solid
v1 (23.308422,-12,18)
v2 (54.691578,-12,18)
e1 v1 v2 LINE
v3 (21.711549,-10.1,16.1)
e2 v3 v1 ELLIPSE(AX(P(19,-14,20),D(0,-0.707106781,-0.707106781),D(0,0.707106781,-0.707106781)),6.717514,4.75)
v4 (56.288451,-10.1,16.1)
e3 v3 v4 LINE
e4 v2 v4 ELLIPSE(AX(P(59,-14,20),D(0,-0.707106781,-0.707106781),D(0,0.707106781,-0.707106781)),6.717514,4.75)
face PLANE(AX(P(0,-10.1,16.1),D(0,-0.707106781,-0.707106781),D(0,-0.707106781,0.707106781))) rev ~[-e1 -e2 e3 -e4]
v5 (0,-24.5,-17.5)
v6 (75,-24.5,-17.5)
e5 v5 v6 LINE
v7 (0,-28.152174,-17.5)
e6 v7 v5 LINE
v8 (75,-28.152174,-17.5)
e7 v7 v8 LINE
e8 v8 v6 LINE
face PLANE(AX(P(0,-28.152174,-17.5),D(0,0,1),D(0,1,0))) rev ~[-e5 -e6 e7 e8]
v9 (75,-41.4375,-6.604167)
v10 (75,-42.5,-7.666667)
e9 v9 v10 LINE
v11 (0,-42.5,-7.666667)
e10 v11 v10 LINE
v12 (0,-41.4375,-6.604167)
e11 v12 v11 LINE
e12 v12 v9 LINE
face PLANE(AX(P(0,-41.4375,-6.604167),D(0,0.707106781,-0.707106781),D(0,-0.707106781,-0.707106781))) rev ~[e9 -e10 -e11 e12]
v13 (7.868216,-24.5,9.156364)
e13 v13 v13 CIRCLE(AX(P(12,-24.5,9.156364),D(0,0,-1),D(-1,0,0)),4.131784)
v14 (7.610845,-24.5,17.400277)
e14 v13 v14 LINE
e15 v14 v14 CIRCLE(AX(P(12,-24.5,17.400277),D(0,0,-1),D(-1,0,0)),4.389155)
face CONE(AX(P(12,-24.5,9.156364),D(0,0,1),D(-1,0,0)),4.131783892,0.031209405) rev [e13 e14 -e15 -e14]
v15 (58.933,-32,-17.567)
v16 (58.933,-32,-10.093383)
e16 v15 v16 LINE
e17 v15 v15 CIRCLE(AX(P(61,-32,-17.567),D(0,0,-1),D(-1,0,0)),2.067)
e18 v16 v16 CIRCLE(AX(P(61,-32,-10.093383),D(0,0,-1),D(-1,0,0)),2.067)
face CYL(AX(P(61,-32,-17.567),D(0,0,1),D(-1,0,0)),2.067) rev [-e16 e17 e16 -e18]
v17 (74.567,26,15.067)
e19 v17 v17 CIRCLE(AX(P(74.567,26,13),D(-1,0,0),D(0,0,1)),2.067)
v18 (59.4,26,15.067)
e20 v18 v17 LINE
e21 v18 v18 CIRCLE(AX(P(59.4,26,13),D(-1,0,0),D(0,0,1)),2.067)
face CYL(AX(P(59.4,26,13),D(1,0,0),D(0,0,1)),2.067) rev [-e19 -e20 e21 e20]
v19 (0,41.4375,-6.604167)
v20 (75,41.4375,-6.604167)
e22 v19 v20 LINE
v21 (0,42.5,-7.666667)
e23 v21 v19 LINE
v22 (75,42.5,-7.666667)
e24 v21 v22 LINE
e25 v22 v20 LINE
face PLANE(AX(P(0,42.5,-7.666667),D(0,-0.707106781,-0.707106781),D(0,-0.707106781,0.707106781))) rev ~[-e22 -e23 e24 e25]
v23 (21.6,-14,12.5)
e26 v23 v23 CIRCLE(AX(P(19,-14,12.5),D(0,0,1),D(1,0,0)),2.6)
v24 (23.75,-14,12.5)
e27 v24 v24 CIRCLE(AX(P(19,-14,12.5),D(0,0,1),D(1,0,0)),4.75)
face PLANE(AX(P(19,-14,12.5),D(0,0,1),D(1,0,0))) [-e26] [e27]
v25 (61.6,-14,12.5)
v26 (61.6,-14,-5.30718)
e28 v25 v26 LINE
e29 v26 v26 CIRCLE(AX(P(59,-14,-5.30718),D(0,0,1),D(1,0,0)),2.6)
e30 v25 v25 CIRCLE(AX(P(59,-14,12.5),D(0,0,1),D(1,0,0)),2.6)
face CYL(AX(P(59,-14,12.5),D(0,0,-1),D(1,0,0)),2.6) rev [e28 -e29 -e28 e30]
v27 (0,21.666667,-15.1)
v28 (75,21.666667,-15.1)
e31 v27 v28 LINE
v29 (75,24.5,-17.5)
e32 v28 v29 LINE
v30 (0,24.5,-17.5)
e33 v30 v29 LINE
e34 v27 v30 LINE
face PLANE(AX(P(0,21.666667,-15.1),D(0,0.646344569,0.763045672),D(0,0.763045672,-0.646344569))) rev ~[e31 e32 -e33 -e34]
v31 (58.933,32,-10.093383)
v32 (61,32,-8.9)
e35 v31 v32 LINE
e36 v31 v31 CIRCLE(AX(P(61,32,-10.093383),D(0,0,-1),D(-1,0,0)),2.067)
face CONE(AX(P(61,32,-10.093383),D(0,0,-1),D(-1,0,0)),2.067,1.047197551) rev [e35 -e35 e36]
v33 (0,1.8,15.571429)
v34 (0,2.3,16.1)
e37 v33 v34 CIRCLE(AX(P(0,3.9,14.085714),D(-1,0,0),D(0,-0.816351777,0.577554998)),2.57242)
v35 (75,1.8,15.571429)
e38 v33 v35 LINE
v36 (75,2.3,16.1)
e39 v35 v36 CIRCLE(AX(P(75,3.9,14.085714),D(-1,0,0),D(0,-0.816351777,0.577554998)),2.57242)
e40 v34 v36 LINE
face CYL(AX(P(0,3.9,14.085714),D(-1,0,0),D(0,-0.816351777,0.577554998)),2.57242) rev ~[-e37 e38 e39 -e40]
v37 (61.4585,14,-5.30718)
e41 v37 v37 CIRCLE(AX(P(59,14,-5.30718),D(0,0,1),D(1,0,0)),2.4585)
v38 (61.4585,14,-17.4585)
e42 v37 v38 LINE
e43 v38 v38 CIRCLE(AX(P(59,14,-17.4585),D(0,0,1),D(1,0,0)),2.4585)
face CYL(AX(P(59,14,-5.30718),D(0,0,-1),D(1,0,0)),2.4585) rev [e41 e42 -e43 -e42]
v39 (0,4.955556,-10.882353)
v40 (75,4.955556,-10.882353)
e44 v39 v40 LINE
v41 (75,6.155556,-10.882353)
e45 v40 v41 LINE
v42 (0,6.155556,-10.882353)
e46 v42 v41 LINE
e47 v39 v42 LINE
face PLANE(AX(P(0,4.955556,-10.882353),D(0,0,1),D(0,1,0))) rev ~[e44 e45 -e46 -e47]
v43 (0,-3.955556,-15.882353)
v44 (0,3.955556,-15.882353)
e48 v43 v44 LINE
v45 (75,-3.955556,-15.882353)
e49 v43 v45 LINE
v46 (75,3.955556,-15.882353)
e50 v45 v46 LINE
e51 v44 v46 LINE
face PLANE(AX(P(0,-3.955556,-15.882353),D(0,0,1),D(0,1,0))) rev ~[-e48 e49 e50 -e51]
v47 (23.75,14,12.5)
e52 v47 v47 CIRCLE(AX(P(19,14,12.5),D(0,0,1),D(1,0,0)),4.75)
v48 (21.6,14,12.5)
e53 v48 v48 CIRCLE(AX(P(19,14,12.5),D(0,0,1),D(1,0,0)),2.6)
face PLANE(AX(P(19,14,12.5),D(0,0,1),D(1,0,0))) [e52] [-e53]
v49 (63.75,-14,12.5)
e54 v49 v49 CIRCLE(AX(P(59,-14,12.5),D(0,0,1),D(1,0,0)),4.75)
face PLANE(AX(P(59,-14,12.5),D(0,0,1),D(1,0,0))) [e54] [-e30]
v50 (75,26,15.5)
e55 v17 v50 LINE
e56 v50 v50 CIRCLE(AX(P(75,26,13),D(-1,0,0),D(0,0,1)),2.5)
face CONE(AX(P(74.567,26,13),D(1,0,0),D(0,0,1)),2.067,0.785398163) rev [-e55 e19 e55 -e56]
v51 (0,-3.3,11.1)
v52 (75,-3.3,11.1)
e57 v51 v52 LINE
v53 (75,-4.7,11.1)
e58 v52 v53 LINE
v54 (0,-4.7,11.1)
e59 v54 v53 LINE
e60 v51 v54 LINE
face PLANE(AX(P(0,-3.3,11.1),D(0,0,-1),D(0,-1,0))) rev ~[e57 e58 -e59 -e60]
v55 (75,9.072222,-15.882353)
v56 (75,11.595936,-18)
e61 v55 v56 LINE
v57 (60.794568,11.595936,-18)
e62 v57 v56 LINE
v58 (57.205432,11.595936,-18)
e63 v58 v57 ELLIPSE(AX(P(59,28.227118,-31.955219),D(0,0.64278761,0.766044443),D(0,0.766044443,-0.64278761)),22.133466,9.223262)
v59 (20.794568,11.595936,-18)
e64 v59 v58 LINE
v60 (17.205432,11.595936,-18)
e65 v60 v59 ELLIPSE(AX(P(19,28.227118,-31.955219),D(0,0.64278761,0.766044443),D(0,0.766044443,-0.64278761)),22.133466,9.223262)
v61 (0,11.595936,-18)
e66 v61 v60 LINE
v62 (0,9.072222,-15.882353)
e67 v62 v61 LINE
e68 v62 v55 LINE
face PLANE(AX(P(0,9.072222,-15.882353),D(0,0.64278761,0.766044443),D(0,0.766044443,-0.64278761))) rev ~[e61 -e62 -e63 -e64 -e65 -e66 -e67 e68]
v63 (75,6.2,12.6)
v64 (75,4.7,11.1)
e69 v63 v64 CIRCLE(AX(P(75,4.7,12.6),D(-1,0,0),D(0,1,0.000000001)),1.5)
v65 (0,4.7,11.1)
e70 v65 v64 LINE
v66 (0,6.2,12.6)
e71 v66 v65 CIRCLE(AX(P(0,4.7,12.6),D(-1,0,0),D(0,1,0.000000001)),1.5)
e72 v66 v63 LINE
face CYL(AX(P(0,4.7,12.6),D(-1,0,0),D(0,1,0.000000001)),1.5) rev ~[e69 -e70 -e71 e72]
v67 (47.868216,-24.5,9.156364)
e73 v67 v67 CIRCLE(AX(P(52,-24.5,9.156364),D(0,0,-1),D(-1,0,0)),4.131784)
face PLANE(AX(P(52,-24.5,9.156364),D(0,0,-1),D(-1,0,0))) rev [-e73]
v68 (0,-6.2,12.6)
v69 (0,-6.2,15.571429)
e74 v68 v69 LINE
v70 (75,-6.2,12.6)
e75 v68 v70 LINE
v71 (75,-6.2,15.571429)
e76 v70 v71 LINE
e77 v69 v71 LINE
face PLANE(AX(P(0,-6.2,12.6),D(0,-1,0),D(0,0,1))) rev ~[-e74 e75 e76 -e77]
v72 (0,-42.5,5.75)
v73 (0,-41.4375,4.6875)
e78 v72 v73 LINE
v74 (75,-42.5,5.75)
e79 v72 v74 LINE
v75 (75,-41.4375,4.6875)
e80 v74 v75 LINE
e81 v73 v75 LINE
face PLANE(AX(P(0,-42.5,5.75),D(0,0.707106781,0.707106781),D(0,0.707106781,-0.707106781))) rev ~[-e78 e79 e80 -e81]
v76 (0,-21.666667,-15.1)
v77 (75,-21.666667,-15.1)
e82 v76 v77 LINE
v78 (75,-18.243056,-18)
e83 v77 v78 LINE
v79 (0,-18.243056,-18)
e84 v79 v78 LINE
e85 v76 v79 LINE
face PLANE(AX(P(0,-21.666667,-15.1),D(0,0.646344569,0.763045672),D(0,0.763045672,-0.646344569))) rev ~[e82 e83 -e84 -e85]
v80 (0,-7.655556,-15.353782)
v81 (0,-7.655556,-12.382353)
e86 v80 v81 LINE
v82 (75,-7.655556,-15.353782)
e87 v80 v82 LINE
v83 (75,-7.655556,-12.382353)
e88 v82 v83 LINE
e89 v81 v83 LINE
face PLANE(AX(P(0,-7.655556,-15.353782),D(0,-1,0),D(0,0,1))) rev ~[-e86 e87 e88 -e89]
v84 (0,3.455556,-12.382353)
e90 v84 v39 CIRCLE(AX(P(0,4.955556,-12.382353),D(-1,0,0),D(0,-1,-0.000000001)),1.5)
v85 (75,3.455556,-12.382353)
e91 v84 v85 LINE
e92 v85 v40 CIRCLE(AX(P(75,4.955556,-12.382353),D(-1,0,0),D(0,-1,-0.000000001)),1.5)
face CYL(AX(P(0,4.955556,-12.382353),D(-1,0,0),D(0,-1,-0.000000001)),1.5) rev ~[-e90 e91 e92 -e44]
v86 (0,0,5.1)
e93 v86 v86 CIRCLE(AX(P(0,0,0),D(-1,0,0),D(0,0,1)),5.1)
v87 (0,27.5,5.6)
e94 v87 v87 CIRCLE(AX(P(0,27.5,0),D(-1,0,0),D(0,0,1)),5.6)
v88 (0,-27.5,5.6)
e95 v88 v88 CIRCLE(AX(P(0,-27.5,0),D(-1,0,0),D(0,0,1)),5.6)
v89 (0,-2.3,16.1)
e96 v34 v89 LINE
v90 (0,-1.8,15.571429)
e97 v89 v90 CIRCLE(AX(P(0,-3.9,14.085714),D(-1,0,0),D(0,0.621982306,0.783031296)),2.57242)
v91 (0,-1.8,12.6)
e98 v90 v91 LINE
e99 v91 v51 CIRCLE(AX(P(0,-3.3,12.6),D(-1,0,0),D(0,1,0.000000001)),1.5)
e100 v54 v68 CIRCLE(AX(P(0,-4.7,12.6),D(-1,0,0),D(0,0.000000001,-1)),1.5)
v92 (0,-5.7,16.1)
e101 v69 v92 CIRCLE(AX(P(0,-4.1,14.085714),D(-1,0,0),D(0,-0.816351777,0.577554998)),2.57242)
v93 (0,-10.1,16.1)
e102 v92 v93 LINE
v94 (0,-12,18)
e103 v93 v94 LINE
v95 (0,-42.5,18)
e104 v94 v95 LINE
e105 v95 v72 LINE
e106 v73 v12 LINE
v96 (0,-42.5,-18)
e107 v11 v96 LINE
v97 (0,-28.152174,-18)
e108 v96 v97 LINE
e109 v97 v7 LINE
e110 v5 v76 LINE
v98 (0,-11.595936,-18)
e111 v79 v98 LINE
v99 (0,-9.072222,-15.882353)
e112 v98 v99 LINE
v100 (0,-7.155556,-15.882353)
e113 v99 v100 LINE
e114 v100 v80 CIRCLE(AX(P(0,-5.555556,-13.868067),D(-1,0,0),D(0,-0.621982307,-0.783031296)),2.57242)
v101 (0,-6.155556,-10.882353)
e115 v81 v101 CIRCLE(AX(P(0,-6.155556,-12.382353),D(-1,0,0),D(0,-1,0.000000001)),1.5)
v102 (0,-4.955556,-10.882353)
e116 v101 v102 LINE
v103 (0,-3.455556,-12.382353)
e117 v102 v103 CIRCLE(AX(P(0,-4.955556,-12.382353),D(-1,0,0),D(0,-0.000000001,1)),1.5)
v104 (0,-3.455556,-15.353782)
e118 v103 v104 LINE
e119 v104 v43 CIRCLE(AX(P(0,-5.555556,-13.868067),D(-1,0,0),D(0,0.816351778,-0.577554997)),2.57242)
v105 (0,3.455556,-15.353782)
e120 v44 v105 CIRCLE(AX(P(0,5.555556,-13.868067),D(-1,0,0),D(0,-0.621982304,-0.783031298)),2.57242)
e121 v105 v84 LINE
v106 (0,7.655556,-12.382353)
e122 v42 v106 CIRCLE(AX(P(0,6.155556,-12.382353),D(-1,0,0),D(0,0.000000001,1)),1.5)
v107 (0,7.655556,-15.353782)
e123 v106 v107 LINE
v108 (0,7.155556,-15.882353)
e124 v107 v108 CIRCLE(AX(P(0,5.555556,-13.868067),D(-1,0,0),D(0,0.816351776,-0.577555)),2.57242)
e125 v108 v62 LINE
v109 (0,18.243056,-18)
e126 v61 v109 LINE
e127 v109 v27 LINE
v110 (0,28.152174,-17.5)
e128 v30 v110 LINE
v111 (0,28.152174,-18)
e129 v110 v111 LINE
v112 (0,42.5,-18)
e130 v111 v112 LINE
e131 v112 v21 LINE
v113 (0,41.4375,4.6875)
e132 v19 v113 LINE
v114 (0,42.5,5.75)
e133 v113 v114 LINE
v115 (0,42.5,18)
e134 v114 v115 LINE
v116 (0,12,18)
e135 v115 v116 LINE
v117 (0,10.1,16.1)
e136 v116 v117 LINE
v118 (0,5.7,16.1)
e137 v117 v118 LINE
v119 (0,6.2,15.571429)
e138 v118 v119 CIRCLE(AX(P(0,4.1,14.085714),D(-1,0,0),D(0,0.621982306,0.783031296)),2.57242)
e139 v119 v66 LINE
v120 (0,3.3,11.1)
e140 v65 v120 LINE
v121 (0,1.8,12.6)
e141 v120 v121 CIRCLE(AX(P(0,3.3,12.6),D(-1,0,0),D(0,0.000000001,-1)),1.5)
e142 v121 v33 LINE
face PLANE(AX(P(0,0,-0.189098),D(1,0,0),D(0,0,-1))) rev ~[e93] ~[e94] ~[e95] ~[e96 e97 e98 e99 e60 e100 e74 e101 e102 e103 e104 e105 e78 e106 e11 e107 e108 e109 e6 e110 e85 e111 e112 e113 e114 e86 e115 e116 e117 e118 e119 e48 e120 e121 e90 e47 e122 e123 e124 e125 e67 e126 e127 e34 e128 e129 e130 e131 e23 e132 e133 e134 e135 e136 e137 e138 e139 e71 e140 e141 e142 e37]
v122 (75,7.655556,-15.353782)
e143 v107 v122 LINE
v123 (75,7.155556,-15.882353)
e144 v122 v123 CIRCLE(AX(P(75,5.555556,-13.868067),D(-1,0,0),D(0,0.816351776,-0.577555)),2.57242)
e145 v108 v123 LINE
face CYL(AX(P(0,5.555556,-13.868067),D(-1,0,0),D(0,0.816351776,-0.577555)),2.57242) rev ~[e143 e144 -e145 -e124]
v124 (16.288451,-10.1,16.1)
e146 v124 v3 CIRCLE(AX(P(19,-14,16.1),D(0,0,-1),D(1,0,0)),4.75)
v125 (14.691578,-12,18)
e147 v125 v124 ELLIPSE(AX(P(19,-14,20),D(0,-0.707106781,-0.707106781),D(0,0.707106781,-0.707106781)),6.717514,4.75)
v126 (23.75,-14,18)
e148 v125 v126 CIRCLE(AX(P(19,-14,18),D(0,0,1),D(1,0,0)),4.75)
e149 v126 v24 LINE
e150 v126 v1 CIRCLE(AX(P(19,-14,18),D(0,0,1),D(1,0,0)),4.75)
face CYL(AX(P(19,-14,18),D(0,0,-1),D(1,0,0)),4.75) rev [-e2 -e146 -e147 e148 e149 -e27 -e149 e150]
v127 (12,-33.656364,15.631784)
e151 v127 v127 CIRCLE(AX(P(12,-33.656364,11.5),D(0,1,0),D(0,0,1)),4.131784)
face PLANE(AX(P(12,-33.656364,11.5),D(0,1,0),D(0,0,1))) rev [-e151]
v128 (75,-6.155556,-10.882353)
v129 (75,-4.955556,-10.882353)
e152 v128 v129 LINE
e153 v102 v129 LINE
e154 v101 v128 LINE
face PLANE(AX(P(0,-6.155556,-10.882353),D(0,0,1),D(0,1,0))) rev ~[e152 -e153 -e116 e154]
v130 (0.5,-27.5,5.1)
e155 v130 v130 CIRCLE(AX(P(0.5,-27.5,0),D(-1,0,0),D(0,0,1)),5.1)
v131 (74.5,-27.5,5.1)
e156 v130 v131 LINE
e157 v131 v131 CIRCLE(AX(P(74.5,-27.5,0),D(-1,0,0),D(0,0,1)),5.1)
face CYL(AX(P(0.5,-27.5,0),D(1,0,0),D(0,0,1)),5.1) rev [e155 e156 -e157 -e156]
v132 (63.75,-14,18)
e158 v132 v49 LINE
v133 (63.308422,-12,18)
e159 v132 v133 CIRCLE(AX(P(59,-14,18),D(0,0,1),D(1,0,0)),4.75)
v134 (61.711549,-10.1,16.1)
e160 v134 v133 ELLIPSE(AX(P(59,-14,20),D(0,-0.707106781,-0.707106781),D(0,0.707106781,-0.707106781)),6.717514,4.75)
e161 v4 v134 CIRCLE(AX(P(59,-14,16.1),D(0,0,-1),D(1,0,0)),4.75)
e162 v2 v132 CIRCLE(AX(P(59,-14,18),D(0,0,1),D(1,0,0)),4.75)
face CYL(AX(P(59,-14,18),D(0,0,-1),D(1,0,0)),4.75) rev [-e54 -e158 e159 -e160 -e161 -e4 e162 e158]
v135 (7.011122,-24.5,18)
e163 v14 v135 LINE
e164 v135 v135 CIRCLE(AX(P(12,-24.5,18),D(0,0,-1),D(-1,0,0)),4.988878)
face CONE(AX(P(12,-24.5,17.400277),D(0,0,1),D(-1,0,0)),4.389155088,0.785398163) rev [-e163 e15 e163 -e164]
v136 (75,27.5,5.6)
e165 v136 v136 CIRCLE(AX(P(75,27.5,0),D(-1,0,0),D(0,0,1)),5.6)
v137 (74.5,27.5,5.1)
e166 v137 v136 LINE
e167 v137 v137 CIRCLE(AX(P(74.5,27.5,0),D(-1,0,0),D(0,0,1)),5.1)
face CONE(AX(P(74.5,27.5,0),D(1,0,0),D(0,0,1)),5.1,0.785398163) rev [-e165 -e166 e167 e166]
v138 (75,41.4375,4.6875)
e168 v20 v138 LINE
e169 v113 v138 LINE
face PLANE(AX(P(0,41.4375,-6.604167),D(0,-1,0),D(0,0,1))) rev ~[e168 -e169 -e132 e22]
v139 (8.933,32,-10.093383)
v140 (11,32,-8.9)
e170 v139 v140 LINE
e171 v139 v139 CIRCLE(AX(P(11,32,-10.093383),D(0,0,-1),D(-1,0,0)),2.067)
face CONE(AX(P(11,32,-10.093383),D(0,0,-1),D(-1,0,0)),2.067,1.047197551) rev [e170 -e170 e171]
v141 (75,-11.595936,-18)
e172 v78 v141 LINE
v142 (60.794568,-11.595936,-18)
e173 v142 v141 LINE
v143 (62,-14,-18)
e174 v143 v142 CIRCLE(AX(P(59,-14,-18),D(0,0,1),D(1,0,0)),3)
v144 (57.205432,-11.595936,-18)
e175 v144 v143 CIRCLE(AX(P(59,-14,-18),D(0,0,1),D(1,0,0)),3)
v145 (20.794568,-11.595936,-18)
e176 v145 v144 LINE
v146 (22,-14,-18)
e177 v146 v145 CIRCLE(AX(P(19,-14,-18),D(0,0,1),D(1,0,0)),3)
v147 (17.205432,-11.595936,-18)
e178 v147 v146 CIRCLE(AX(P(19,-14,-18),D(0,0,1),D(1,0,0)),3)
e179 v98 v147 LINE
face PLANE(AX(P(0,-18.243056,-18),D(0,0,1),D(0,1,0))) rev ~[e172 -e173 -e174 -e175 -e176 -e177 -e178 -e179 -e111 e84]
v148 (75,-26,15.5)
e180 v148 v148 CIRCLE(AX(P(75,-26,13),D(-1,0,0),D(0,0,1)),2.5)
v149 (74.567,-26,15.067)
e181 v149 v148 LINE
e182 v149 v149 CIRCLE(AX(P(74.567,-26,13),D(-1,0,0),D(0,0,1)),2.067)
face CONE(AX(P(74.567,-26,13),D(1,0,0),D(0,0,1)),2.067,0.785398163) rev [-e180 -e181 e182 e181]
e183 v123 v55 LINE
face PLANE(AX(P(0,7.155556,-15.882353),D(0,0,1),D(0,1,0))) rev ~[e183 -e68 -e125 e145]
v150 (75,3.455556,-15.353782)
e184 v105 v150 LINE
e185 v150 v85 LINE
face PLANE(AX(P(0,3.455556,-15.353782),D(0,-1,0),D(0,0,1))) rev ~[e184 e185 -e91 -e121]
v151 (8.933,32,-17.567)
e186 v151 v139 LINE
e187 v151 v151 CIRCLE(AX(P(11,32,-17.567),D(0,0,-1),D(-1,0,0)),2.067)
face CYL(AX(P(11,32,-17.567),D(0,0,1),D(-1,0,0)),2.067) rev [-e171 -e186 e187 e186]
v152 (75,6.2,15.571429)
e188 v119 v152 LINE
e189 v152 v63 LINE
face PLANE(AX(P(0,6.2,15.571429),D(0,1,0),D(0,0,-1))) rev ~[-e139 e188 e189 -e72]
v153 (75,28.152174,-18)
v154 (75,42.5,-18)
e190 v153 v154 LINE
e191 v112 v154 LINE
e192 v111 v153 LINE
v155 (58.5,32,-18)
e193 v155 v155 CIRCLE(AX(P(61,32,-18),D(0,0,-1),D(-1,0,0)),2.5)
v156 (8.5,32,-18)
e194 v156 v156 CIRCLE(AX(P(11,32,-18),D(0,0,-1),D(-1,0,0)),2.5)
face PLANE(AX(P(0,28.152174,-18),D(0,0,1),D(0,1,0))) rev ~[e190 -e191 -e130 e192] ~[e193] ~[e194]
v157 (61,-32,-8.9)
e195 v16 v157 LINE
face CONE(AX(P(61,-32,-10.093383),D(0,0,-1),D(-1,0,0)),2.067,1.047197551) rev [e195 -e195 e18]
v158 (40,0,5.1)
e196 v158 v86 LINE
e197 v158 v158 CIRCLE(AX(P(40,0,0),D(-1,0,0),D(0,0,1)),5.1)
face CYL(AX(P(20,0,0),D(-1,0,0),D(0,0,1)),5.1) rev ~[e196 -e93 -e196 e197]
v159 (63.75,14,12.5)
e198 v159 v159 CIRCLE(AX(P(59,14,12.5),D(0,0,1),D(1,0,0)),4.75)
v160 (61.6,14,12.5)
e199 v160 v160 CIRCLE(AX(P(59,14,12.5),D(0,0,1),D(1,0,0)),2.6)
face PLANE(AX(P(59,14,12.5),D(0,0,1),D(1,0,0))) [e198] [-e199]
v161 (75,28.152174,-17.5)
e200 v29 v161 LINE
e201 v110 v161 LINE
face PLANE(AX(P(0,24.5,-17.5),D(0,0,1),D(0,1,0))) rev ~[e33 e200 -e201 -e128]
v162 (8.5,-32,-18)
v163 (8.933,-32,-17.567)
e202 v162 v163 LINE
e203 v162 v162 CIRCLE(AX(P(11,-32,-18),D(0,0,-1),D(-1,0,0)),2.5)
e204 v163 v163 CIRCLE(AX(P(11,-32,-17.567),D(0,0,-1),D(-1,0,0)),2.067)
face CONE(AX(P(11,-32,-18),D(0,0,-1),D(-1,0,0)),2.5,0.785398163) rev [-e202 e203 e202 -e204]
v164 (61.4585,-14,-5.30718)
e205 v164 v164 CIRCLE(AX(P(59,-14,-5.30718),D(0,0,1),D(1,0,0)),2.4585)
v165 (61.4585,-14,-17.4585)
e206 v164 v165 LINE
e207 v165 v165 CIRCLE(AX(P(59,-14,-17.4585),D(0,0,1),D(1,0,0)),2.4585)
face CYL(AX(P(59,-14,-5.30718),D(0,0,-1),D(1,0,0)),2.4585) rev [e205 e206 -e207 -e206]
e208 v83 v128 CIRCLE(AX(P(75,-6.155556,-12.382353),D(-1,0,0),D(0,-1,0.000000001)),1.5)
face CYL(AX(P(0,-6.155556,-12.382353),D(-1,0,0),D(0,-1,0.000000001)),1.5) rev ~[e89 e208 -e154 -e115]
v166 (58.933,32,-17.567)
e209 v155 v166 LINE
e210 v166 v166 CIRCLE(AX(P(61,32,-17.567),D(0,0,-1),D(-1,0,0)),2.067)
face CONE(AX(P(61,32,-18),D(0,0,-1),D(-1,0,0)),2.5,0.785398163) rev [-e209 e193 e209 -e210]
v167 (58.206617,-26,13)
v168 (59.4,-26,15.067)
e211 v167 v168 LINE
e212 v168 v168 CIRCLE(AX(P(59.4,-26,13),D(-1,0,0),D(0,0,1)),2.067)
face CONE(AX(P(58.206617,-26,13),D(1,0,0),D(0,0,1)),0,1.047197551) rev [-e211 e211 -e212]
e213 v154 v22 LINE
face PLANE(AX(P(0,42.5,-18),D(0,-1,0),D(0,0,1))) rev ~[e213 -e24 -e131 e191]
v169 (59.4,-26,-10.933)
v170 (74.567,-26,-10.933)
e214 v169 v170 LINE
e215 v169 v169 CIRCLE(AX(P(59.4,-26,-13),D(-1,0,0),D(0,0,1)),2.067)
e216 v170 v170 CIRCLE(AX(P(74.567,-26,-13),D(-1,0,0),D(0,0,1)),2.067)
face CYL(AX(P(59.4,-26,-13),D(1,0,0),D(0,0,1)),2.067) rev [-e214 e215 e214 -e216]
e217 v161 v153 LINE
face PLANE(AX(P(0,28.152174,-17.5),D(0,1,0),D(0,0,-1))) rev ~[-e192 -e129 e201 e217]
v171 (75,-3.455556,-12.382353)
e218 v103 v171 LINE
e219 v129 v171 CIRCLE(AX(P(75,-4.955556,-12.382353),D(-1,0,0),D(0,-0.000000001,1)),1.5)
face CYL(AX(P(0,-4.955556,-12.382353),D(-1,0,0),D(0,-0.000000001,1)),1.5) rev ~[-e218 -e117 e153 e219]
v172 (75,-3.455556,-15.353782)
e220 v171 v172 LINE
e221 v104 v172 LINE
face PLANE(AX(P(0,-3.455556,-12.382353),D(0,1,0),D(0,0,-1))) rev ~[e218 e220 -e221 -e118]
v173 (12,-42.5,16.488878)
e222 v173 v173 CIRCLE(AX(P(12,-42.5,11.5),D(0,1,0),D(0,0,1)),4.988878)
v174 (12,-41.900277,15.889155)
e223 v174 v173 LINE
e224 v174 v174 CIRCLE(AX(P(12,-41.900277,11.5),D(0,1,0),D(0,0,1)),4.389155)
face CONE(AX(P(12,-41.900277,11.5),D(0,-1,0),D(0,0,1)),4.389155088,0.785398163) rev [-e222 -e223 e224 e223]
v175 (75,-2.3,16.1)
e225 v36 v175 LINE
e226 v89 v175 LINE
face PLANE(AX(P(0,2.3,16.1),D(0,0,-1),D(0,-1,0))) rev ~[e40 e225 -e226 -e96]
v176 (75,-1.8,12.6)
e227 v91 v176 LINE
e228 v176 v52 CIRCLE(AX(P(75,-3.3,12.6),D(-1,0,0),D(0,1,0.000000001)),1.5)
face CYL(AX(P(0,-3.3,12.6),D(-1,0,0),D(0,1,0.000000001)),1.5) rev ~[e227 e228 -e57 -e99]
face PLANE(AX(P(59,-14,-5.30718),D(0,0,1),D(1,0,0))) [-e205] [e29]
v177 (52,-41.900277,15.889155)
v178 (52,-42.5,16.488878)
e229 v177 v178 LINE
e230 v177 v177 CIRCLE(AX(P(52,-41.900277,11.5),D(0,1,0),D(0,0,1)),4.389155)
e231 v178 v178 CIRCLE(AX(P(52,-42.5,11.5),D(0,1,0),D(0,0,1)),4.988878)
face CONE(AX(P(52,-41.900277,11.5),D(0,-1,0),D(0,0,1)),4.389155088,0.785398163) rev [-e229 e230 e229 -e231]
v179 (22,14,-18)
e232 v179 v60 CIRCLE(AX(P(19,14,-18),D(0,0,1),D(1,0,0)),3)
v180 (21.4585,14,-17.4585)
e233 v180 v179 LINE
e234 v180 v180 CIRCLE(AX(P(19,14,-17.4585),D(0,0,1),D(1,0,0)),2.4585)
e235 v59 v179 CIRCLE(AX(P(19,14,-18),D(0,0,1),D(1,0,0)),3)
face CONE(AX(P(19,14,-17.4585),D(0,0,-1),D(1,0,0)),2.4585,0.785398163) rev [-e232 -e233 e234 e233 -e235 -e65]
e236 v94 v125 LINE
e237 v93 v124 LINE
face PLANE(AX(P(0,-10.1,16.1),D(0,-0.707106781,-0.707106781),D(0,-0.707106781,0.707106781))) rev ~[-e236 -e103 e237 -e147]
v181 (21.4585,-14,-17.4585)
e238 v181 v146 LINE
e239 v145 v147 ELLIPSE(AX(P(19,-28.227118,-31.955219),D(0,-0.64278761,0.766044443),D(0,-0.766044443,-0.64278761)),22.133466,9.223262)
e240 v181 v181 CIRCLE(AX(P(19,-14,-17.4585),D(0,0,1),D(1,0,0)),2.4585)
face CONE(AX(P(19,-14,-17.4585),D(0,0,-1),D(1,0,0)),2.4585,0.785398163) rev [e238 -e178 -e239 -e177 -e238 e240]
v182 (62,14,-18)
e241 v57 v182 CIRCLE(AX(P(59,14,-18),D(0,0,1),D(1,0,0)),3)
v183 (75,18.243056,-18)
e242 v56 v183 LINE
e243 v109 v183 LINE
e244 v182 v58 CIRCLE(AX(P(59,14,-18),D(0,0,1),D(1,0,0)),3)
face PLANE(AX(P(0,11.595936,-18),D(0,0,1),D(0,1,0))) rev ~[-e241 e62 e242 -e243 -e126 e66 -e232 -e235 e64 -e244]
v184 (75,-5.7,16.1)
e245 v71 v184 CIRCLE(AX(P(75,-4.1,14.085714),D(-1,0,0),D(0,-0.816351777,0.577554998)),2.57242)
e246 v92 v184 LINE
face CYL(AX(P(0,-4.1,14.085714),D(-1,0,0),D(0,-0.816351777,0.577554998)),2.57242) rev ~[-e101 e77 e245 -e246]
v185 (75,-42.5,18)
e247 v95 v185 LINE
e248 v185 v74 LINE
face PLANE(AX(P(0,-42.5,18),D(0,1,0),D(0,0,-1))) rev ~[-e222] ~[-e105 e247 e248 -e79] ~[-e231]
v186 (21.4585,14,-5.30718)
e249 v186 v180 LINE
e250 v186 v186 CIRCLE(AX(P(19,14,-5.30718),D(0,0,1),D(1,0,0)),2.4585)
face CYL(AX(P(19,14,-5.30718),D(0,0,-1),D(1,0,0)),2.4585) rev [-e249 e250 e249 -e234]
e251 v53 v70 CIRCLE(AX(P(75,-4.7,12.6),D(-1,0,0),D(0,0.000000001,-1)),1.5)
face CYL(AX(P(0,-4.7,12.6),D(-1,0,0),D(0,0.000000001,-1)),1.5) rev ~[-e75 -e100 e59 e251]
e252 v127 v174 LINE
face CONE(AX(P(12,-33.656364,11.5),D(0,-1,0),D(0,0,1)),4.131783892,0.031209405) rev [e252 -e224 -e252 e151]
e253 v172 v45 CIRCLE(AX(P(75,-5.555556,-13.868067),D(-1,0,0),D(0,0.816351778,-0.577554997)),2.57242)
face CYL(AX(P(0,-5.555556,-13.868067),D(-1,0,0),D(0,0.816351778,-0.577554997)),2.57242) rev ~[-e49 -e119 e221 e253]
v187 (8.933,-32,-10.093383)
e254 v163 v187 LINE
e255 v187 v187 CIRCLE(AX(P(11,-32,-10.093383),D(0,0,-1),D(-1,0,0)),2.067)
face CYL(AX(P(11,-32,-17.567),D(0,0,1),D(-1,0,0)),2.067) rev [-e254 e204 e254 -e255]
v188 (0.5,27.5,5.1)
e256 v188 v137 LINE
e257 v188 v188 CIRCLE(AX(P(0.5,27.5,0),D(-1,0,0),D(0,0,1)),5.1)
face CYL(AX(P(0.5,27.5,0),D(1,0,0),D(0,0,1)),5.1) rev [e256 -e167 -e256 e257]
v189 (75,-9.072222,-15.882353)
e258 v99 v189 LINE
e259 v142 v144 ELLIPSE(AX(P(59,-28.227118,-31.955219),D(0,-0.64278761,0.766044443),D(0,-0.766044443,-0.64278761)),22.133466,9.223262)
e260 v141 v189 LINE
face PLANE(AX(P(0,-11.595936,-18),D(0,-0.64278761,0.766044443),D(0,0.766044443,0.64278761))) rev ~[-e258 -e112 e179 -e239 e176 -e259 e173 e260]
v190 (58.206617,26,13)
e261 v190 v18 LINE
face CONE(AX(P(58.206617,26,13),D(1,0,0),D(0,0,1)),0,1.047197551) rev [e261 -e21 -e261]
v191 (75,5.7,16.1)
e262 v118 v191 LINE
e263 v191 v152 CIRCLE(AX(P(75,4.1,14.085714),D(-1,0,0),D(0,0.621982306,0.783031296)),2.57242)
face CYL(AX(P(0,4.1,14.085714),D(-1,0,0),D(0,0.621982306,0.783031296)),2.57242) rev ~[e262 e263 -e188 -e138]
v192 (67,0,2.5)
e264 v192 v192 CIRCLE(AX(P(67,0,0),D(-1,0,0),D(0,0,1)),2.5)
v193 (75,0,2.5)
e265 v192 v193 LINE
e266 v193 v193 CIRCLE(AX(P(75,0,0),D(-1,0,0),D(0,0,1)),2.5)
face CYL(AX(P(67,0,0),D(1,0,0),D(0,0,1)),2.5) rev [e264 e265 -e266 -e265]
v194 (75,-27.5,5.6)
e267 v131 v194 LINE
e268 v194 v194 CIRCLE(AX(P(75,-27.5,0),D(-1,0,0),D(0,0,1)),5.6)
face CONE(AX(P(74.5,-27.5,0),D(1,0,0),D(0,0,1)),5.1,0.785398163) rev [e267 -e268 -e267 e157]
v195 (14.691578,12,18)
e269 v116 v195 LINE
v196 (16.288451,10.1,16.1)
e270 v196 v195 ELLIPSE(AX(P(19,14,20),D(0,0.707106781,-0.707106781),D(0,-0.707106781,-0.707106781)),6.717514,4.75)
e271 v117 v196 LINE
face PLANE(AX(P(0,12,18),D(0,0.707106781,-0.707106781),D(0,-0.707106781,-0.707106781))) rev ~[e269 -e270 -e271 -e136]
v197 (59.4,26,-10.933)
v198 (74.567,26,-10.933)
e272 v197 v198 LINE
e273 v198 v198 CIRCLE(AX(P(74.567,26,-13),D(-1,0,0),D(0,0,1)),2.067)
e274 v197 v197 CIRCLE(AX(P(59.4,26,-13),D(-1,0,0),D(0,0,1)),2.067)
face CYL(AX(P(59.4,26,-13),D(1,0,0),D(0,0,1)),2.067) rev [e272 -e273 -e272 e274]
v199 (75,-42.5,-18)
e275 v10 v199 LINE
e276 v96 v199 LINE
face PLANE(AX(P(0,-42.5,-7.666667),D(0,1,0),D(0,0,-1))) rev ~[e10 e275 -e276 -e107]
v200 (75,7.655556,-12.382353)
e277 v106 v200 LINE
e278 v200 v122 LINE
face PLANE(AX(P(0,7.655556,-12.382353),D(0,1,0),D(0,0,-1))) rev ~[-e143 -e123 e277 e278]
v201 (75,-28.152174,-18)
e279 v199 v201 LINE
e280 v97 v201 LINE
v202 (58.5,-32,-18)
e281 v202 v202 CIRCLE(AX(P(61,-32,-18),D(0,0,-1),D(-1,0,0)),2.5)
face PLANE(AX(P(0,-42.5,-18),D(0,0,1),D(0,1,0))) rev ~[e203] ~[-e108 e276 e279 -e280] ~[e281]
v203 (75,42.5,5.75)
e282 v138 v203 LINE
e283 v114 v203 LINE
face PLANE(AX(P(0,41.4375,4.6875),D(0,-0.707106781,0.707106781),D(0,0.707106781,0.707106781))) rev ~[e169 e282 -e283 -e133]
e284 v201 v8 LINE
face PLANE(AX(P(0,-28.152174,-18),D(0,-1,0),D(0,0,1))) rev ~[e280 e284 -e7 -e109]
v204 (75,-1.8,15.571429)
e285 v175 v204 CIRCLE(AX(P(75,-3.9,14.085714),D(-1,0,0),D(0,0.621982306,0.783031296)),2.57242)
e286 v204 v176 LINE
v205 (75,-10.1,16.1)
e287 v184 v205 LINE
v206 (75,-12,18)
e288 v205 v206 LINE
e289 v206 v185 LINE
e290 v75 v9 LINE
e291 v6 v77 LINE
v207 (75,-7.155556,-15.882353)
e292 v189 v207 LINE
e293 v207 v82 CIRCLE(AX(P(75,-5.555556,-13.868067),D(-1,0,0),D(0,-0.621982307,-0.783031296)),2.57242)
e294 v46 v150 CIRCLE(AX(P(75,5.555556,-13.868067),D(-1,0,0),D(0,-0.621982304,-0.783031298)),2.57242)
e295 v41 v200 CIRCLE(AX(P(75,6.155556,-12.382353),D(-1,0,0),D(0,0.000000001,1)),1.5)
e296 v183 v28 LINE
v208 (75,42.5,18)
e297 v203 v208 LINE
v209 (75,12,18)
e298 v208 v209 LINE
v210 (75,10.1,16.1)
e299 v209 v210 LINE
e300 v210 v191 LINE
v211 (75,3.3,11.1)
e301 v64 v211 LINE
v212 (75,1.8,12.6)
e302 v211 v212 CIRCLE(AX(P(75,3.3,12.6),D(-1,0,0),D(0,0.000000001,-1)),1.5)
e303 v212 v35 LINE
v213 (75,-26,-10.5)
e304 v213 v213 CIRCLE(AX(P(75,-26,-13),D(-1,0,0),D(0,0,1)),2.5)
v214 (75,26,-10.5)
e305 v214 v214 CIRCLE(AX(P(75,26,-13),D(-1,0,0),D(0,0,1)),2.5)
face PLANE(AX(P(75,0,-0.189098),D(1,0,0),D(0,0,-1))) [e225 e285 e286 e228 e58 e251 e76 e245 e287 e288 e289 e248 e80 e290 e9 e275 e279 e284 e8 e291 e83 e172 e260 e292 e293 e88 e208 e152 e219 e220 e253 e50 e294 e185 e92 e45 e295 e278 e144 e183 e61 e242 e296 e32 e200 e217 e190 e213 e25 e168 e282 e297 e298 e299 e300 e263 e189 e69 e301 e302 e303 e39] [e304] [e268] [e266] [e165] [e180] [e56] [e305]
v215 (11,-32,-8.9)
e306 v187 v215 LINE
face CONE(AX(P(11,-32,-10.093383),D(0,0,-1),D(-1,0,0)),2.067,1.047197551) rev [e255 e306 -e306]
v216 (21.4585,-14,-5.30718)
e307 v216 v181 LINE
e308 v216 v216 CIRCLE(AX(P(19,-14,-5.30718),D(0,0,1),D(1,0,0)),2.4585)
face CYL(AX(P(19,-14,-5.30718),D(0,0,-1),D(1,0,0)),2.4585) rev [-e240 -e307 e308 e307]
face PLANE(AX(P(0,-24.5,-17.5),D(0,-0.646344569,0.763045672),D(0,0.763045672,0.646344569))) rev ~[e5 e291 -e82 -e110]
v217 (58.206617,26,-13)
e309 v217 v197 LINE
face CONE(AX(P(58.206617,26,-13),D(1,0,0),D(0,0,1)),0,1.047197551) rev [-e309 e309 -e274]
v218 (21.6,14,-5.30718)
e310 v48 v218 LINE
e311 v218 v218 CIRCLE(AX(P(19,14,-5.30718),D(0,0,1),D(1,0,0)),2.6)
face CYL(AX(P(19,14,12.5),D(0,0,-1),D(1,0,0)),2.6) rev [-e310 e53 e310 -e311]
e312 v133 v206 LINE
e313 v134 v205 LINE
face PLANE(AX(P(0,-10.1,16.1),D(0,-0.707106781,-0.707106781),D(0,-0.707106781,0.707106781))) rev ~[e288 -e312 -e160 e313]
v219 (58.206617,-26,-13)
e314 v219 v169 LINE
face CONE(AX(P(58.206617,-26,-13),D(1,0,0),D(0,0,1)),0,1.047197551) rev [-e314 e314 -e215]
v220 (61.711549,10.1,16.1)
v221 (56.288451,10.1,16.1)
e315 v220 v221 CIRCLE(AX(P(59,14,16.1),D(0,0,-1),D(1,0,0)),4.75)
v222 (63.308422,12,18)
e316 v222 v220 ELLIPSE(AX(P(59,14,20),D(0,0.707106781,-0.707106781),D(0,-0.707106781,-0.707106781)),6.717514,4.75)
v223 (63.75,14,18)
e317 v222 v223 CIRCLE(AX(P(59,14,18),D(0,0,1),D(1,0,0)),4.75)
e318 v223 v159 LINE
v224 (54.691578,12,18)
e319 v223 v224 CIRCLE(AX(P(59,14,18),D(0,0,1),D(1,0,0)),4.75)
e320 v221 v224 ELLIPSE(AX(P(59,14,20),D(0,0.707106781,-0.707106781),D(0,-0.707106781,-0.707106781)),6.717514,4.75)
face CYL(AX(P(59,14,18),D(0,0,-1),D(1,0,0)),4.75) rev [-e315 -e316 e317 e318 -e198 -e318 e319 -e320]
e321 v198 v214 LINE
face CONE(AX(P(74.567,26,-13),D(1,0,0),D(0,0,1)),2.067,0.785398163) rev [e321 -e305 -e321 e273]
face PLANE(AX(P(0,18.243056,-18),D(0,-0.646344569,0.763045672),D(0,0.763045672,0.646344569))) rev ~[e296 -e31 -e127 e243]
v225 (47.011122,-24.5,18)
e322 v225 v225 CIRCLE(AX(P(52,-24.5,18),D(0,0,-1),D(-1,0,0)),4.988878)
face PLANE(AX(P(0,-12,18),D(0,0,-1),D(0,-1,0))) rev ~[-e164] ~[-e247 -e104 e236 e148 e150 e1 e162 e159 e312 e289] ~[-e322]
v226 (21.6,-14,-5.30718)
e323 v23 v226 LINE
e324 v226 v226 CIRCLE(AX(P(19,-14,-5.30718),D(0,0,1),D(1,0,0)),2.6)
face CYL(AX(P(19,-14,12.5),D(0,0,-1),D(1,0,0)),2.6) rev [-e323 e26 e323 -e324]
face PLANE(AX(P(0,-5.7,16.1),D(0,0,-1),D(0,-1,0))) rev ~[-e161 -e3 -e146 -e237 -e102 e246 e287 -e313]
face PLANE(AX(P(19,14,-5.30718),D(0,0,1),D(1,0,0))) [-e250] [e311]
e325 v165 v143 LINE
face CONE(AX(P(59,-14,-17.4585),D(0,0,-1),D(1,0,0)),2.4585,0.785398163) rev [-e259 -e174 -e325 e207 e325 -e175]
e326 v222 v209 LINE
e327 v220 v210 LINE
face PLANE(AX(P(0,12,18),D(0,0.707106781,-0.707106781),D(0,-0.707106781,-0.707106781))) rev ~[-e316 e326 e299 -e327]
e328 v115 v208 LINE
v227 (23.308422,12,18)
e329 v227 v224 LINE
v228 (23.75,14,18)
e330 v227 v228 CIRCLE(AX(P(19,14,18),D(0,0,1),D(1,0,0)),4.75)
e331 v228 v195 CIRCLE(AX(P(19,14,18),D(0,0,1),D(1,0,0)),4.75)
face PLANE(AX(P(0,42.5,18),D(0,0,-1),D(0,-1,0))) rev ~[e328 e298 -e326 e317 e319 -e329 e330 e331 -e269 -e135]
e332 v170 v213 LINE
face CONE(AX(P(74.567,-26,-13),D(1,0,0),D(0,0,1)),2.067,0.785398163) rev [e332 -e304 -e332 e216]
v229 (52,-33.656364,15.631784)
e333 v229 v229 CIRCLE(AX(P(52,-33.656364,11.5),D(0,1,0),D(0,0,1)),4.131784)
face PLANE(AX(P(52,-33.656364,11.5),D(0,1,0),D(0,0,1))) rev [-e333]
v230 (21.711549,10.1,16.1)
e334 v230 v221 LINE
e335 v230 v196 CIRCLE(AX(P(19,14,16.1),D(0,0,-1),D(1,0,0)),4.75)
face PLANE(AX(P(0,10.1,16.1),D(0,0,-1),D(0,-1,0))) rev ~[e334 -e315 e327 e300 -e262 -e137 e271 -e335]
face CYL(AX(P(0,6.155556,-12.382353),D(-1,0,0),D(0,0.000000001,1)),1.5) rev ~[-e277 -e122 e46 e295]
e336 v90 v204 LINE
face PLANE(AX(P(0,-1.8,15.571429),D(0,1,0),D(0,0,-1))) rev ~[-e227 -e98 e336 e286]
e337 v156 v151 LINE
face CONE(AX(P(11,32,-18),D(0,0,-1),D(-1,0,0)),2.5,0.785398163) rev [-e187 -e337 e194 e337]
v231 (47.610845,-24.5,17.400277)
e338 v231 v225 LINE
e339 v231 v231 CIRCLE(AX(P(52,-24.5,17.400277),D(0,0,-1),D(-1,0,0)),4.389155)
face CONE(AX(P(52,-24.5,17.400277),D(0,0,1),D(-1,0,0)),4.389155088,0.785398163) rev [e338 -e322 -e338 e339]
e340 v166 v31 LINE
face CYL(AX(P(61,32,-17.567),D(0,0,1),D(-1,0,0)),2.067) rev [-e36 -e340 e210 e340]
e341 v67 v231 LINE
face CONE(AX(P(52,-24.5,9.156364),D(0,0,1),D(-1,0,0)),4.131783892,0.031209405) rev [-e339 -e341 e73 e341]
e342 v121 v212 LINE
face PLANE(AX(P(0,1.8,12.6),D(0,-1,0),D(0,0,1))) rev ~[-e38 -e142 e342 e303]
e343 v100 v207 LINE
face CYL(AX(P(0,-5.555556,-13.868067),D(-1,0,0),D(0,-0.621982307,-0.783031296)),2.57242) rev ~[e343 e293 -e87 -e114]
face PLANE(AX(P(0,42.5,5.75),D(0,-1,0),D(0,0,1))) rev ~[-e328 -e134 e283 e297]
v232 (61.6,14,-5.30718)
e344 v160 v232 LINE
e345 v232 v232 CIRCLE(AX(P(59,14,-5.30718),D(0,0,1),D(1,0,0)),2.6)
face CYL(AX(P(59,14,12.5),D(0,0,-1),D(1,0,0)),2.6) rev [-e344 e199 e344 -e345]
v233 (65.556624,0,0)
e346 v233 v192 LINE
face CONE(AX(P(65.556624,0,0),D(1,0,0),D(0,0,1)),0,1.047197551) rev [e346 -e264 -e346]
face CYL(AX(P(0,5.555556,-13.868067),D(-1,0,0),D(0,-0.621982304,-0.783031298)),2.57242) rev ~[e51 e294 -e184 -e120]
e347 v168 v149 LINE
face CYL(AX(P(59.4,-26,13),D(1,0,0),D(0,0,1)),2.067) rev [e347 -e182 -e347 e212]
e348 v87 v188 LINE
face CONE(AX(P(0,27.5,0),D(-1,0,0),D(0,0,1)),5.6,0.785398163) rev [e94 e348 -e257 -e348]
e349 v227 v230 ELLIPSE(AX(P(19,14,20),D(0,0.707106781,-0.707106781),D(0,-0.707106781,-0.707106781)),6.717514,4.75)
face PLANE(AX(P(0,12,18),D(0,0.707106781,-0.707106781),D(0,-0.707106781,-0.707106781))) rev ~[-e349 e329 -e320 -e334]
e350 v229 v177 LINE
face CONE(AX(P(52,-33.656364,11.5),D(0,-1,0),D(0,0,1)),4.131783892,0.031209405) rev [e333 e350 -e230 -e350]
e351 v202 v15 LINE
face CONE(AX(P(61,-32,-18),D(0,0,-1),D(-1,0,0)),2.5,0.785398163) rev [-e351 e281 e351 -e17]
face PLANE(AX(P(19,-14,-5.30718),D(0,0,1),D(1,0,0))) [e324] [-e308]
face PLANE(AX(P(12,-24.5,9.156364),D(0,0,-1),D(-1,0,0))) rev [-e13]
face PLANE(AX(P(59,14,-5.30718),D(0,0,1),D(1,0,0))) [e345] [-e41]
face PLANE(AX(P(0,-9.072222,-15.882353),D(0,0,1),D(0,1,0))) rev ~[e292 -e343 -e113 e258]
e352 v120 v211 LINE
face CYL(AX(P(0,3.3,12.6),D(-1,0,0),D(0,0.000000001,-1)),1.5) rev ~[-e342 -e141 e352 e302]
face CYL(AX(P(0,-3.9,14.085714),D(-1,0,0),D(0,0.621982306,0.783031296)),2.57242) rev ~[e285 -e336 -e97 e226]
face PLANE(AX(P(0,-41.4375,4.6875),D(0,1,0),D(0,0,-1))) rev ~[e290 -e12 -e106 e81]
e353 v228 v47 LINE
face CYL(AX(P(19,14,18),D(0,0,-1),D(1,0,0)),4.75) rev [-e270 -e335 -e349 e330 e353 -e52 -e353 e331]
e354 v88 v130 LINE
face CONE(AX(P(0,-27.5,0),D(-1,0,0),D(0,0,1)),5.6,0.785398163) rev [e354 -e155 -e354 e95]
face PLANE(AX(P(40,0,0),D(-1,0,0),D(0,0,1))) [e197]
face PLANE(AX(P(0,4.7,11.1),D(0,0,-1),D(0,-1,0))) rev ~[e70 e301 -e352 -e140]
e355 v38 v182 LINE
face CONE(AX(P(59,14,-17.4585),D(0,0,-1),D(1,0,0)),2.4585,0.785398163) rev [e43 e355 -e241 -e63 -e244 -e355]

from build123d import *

# Parameters (mm, degrees)
BOSS_EXTRUDE1_DEPTH = 75
SKETCH10_W          = 40
SKETCH10_H          = 5.1


with BuildPart() as part:
    # Sketch1 → Boss-Extrude1 (new body)
    with BuildSketch(Plane(origin=(0, 0, 0), x_dir=(0, 0, -1), z_dir=(1, 0, 0))):
        with BuildLine():
            Line((-18, -42.5), (-5.75, -42.5))
            Line((-5.75, -42.5), (-4.6875, -41.4375))
            Line((-4.6875, -41.4375), (6.604166667, -41.4375))
            Line((6.604166667, -41.4375), (7.666666667, -42.5))
            Line((7.666666667, -42.5), (18, -42.5))
            Line((18, -42.5), (18, -28.152173913))
            Line((18, -28.152173913), (17.5, -28.152173913))
            Line((17.5, -28.152173913), (17.5, -24.5))
            Line((17.5, -24.5), (15.1, -21.666666667))
            Line((15.1, -21.666666667), (18, -18.243055556))
            Line((18, -18.243055556), (18, -11.595935712))
            Line((18, -11.595935712), (15.882352941, -9.072222222))
            Line((15.882352941, -9.072222222), (15.882352941, -7.155555556))
            ThreePointArc((15.882352941, -7.155555556), (15.63583418, -7.424337763), (15.353781513, -7.655555556))
            Line((15.353781513, -7.655555556), (12.382352941, -7.655555556))
            ThreePointArc((12.382352941, -7.655555556), (11.321692769, -7.216215727), (10.882352941, -6.155555556))
            Line((10.882352941, -6.155555556), (10.882352941, -4.955555556))
            ThreePointArc((10.882352941, -4.955555556), (11.321692769, -3.894895384), (12.382352941, -3.455555556))
            Line((12.382352941, -3.455555556), (15.353781513, -3.455555556))
            ThreePointArc((15.353781513, -3.455555556), (15.63583418, -3.686773348), (15.882352941, -3.955555556))
            Line((15.882352941, -3.955555556), (15.882352941, 3.955555556))
            ThreePointArc((15.882352941, 3.955555556), (15.63583418, 3.686773348), (15.353781513, 3.455555556))
            Line((15.353781513, 3.455555556), (12.382352941, 3.455555556))
            ThreePointArc((12.382352941, 3.455555556), (11.321692769, 3.894895384), (10.882352941, 4.955555556))
            Line((10.882352941, 4.955555556), (10.882352941, 6.155555556))
            ThreePointArc((10.882352941, 6.155555556), (11.321692769, 7.216215727), (12.382352941, 7.655555556))
            Line((12.382352941, 7.655555556), (15.353781513, 7.655555556))
            ThreePointArc((15.353781513, 7.655555556), (15.63583418, 7.424337763), (15.882352941, 7.155555556))
            Line((15.882352941, 7.155555556), (15.882352941, 9.072222222))
            Line((15.882352941, 9.072222222), (18, 11.595935712))
            Line((18, 11.595935712), (18, 18.243055556))
            Line((18, 18.243055556), (15.1, 21.666666667))
            Line((15.1, 21.666666667), (17.5, 24.5))
            Line((17.5, 24.5), (17.5, 28.152173913))
            Line((17.5, 28.152173913), (18, 28.152173913))
            Line((18, 28.152173913), (18, 42.5))
            Line((18, 42.5), (7.666666667, 42.5))
            Line((7.666666667, 42.5), (6.604166667, 41.4375))
            Line((6.604166667, 41.4375), (-4.6875, 41.4375))
            Line((-4.6875, 41.4375), (-5.75, 42.5))
            Line((-5.75, 42.5), (-18, 42.5))
            Line((-18, 42.5), (-18, 12))
            Line((-18, 12), (-16.1, 10.1))
            Line((-16.1, 10.1), (-16.1, 5.7))
            ThreePointArc((-16.1, 5.7), (-15.853481239, 5.968782207), (-15.571428571, 6.2))
            Line((-15.571428571, 6.2), (-12.6, 6.2))
            ThreePointArc((-12.6, 6.2), (-11.539339828, 5.760660172), (-11.1, 4.7))
            Line((-11.1, 4.7), (-11.1, 3.3))
            ThreePointArc((-11.1, 3.3), (-11.539339828, 2.239339828), (-12.6, 1.8))
            Line((-12.6, 1.8), (-15.571428571, 1.8))
            ThreePointArc((-15.571428571, 1.8), (-15.853481239, 2.031217793), (-16.1, 2.3))
            Line((-16.1, 2.3), (-16.1, -2.3))
            ThreePointArc((-16.1, -2.3), (-15.853481239, -2.031217793), (-15.571428571, -1.8))
            Line((-15.571428571, -1.8), (-12.6, -1.8))
            ThreePointArc((-12.6, -1.8), (-11.539339828, -2.239339828), (-11.1, -3.3))
            Line((-11.1, -3.3), (-11.1, -4.7))
            ThreePointArc((-11.1, -4.7), (-11.539339828, -5.760660172), (-12.6, -6.2))
            Line((-12.6, -6.2), (-15.571428571, -6.2))
            ThreePointArc((-15.571428571, -6.2), (-15.853481239, -5.968782207), (-16.1, -5.7))
            Line((-16.1, -5.7), (-16.1, -10.1))
            Line((-16.1, -10.1), (-18, -12))
            Line((-18, -12), (-18, -42.5))
        make_face()
    extrude(amount=BOSS_EXTRUDE1_DEPTH)

    # Sketch2 → Cut-Revolve1 (revolve, cut)
    with BuildSketch(Plane.XY, mode=Mode.PRIVATE) as cut_revolve1_sk:
        Polygon((0, 27.5), (0, 33.1), (0.5, 32.6), (74.5, 32.6), (75, 33.1), (75, 27.5), align=None)
    revolve(cut_revolve1_sk.sketch.rotate(Axis((75, 27.5, 0), (-1, 0, 0)), 270), axis=Axis((75, 27.5, 0), (-1, 0, 0)), mode=Mode.SUBTRACT)

    # Sketch3 → Cut-Revolve2 (revolve, cut)
    with BuildSketch(Plane.XY, mode=Mode.PRIVATE) as cut_revolve2_sk:
        Polygon((0, -27.5), (0, -21.9), (0.5, -22.4), (74.5, -22.4), (75, -21.9), (75, -27.5), align=None)
    revolve(cut_revolve2_sk.sketch.rotate(Axis((75, -27.5, 0), (-1, 0, 0)), 270), axis=Axis((75, -27.5, 0), (-1, 0, 0)), mode=Mode.SUBTRACT)

    # Sketch4 → Cut-Revolve3 (revolve, cut)
    with BuildSketch(Plane(origin=(0, 32, 0), x_dir=(-1, 0, 0), z_dir=(0, 1, 0)), mode=Mode.PRIVATE) as cut_revolve3_sk:
        Polygon((-11, -18), (-13.5, -18), (-13.067, -17.567), (-13.067, -10.093383006), (-11, -8.9), align=None)
    revolve(cut_revolve3_sk.sketch.rotate(Axis((11, 32, -8.9), (0, 0, -1)), 180), axis=Axis((11, 32, -8.9), (0, 0, -1)), mode=Mode.SUBTRACT)

    # Sketch5 → Cut-Revolve4 (revolve, cut)
    with BuildSketch(Plane(origin=(0, 32, 0), x_dir=(-1, 0, 0), z_dir=(0, 1, 0)), mode=Mode.PRIVATE) as cut_revolve4_sk:
        Polygon((-61, -18), (-63.5, -18), (-63.067, -17.567), (-63.067, -10.093383006), (-61, -8.9), align=None)
    revolve(cut_revolve4_sk.sketch.rotate(Axis((61, 32, -8.9), (0, 0, -1)), 180), axis=Axis((61, 32, -8.9), (0, 0, -1)), mode=Mode.SUBTRACT)

    # Sketch6 → Cut-Revolve5 (revolve, cut)
    with BuildSketch(Plane(origin=(0, -32, 0), x_dir=(-1, 0, 0), z_dir=(0, 1, 0)), mode=Mode.PRIVATE) as cut_revolve5_sk:
        Polygon((-11, -18), (-13.5, -18), (-13.067, -17.567), (-13.067, -10.093383006), (-11, -8.9), align=None)
    revolve(cut_revolve5_sk.sketch.rotate(Axis((11, -32, -8.9), (0, 0, -1)), 180), axis=Axis((11, -32, -8.9), (0, 0, -1)), mode=Mode.SUBTRACT)

    # Sketch7 → Cut-Revolve6 (revolve, cut)
    with BuildSketch(Plane(origin=(0, -32, 0), x_dir=(-1, 0, 0), z_dir=(0, 1, 0)), mode=Mode.PRIVATE) as cut_revolve6_sk:
        Polygon((-61, -18), (-63.5, -18), (-63.067, -17.567), (-63.067, -10.093383006), (-61, -8.9), align=None)
    revolve(cut_revolve6_sk.sketch.rotate(Axis((61, -32, -8.9), (0, 0, -1)), 180), axis=Axis((61, -32, -8.9), (0, 0, -1)), mode=Mode.SUBTRACT)

    # Sketch8 → Cut-Revolve7 (revolve, cut)
    with BuildSketch(Plane(origin=(0, -24.5, 0), x_dir=(-1, 0, 0), z_dir=(0, 1, 0)), mode=Mode.PRIVATE) as cut_revolve7_sk:
        Polygon((-12, 9.156363636), (-16.131783892, 9.156363636), (-16.389155088, 17.40027692), (-16.988878168, 18), (-12, 18), align=None)
    revolve(cut_revolve7_sk.sketch.rotate(Axis((12, -24.5, 18), (0, 0, -1)), 180), axis=Axis((12, -24.5, 18), (0, 0, -1)), mode=Mode.SUBTRACT)

    # Sketch9 → Cut-Revolve8 (revolve, cut)
    with BuildSketch(Plane(origin=(0, -24.5, 0), x_dir=(-1, 0, 0), z_dir=(0, 1, 0)), mode=Mode.PRIVATE) as cut_revolve8_sk:
        Polygon((-52, 9.156363636), (-56.131783892, 9.156363636), (-56.389155088, 17.40027692), (-56.988878168, 18), (-52, 18), align=None)
    revolve(cut_revolve8_sk.sketch.rotate(Axis((52, -24.5, 18), (0, 0, -1)), 180), axis=Axis((52, -24.5, 18), (0, 0, -1)), mode=Mode.SUBTRACT)

    # Sketch10 → Cut-Revolve9 (revolve, cut)
    with BuildSketch(Plane(origin=(0, 0, 0), x_dir=(-1, 0, 0), z_dir=(0, 1, 0)), mode=Mode.PRIVATE) as cut_revolve9_sk:
        with Locations((-20, -2.55)):
            Rectangle(SKETCH10_W, SKETCH10_H)
    revolve(cut_revolve9_sk.sketch.rotate(Axis((40, 0, 0), (-1, 0, 0)), 180), axis=Axis((40, 0, 0), (-1, 0, 0)), mode=Mode.SUBTRACT)

    # Sketch11 → Cut-Revolve10 (revolve, cut)
    with BuildSketch(Plane(origin=(12, 0, 0), x_dir=(0, 0, -1), z_dir=(1, 0, 0)), mode=Mode.PRIVATE) as cut_revolve10_sk:
        Polygon((-11.5, -33.656363636), (-7.368216108, -33.656363636), (-7.110844912, -41.90027692), (-6.511121832, -42.5), (-11.5, -42.5), align=None)
    revolve(cut_revolve10_sk.sketch.rotate(Axis((12, -42.5, 11.5), (0, 1, 0)), 180), axis=Axis((12, -42.5, 11.5), (0, 1, 0)), mode=Mode.SUBTRACT)

    # Sketch12 → Cut-Revolve11 (revolve, cut)
    with BuildSketch(Plane(origin=(52, 0, 0), x_dir=(0, 0, -1), z_dir=(1, 0, 0)), mode=Mode.PRIVATE) as cut_revolve11_sk:
        Polygon((-11.5, -33.656363636), (-7.368216108, -33.656363636), (-7.110844912, -41.90027692), (-6.511121832, -42.5), (-11.5, -42.5), align=None)
    revolve(cut_revolve11_sk.sketch.rotate(Axis((52, -42.5, 11.5), (0, 1, 0)), 180), axis=Axis((52, -42.5, 11.5), (0, 1, 0)), mode=Mode.SUBTRACT)

    # Sketch13 → Cut-Revolve12 (revolve, cut)
    with BuildSketch(Plane.XY, mode=Mode.PRIVATE) as cut_revolve12_sk:
        Polygon((65.556624327, 0), (67, 2.5), (75, 2.5), (75, 0), align=None)
    revolve(cut_revolve12_sk.sketch.rotate(Axis((75, 0, 0), (-1, 0, 0)), 270), axis=Axis((75, 0, 0), (-1, 0, 0)), mode=Mode.SUBTRACT)

    # Sketch14 → Cut-Revolve13 (revolve, cut)
    with BuildSketch(Plane.XY.offset(-13), mode=Mode.PRIVATE) as cut_revolve13_sk:
        Polygon((58.206616994, 26), (59.4, 28.067), (74.567, 28.067), (75, 28.5), (75, 26), align=None)
    revolve(cut_revolve13_sk.sketch.rotate(Axis((75, 26, -13), (-1, 0, 0)), 270), axis=Axis((75, 26, -13), (-1, 0, 0)), mode=Mode.SUBTRACT)

    # Sketch15 → Cut-Revolve14 (revolve, cut)
    with BuildSketch(Plane.XY.offset(-13), mode=Mode.PRIVATE) as cut_revolve14_sk:
        Polygon((58.206616994, -26), (59.4, -23.933), (74.567, -23.933), (75, -23.5), (75, -26), align=None)
    revolve(cut_revolve14_sk.sketch.rotate(Axis((75, -26, -13), (-1, 0, 0)), 270), axis=Axis((75, -26, -13), (-1, 0, 0)), mode=Mode.SUBTRACT)

    # Sketch16 → Cut-Revolve15 (revolve, cut)
    with BuildSketch(Plane.XY.offset(13), mode=Mode.PRIVATE) as cut_revolve15_sk:
        Polygon((58.206616994, 26), (59.4, 28.067), (74.567, 28.067), (75, 28.5), (75, 26), align=None)
    revolve(cut_revolve15_sk.sketch.rotate(Axis((75, 26, 13), (-1, 0, 0)), 270), axis=Axis((75, 26, 13), (-1, 0, 0)), mode=Mode.SUBTRACT)

    # Sketch17 → Cut-Revolve16 (revolve, cut)
    with BuildSketch(Plane.XY.offset(13), mode=Mode.PRIVATE) as cut_revolve16_sk:
        Polygon((58.206616994, -26), (59.4, -23.933), (74.567, -23.933), (75, -23.5), (75, -26), align=None)
    revolve(cut_revolve16_sk.sketch.rotate(Axis((75, -26, 13), (-1, 0, 0)), 270), axis=Axis((75, -26, 13), (-1, 0, 0)), mode=Mode.SUBTRACT)

    # Sketch18 → Cut-Revolve17 (revolve, cut)
    with BuildSketch(Plane(origin=(19, 0, 0), x_dir=(0, 0, -1), z_dir=(1, 0, 0)), mode=Mode.PRIVATE) as cut_revolve17_sk:
        Polygon((-18, 14), (-18, 18.75), (-12.5, 18.75), (-12.5, 16.6), (5.307179677, 16.6), (5.307179677, 16.4585), (17.4585, 16.4585), (18, 17), (18, 14), align=None)
    revolve(cut_revolve17_sk.sketch.rotate(Axis((19, 14, -18), (0, 0, 1)), 270), axis=Axis((19, 14, -18), (0, 0, 1)), mode=Mode.SUBTRACT)

    # Sketch19 → Cut-Revolve18 (revolve, cut)
    with BuildSketch(Plane(origin=(19, 0, 0), x_dir=(0, 0, -1), z_dir=(1, 0, 0)), mode=Mode.PRIVATE) as cut_revolve18_sk:
        Polygon((-18, -14), (-18, -9.25), (-12.5, -9.25), (-12.5, -11.4), (5.307179677, -11.4), (5.307179677, -11.5415), (17.4585, -11.5415), (18, -11), (18, -14), align=None)
    revolve(cut_revolve18_sk.sketch.rotate(Axis((19, -14, -18), (0, 0, 1)), 270), axis=Axis((19, -14, -18), (0, 0, 1)), mode=Mode.SUBTRACT)

    # Sketch20 → Cut-Revolve19 (revolve, cut)
    with BuildSketch(Plane(origin=(59, 0, 0), x_dir=(0, 0, -1), z_dir=(1, 0, 0)), mode=Mode.PRIVATE) as cut_revolve19_sk:
        Polygon((-18, -14), (-18, -9.25), (-12.5, -9.25), (-12.5, -11.4), (5.307179677, -11.4), (5.307179677, -11.5415), (17.4585, -11.5415), (18, -11), (18, -14), align=None)
    revolve(cut_revolve19_sk.sketch.rotate(Axis((59, -14, -18), (0, 0, 1)), 270), axis=Axis((59, -14, -18), (0, 0, 1)), mode=Mode.SUBTRACT)

    # Sketch21 → Cut-Revolve20 (revolve, cut)
    with BuildSketch(Plane(origin=(59, 0, 0), x_dir=(0, 0, -1), z_dir=(1, 0, 0)), mode=Mode.PRIVATE) as cut_revolve20_sk:
        Polygon((-18, 14), (-18, 18.75), (-12.5, 18.75), (-12.5, 16.6), (5.307179677, 16.6), (5.307179677, 16.4585), (17.4585, 16.4585), (18, 17), (18, 14), align=None)
    revolve(cut_revolve20_sk.sketch.rotate(Axis((59, 14, -18), (0, 0, 1)), 270), axis=Axis((59, 14, -18), (0, 0, 1)), mode=Mode.SUBTRACT)


solid = part.part
